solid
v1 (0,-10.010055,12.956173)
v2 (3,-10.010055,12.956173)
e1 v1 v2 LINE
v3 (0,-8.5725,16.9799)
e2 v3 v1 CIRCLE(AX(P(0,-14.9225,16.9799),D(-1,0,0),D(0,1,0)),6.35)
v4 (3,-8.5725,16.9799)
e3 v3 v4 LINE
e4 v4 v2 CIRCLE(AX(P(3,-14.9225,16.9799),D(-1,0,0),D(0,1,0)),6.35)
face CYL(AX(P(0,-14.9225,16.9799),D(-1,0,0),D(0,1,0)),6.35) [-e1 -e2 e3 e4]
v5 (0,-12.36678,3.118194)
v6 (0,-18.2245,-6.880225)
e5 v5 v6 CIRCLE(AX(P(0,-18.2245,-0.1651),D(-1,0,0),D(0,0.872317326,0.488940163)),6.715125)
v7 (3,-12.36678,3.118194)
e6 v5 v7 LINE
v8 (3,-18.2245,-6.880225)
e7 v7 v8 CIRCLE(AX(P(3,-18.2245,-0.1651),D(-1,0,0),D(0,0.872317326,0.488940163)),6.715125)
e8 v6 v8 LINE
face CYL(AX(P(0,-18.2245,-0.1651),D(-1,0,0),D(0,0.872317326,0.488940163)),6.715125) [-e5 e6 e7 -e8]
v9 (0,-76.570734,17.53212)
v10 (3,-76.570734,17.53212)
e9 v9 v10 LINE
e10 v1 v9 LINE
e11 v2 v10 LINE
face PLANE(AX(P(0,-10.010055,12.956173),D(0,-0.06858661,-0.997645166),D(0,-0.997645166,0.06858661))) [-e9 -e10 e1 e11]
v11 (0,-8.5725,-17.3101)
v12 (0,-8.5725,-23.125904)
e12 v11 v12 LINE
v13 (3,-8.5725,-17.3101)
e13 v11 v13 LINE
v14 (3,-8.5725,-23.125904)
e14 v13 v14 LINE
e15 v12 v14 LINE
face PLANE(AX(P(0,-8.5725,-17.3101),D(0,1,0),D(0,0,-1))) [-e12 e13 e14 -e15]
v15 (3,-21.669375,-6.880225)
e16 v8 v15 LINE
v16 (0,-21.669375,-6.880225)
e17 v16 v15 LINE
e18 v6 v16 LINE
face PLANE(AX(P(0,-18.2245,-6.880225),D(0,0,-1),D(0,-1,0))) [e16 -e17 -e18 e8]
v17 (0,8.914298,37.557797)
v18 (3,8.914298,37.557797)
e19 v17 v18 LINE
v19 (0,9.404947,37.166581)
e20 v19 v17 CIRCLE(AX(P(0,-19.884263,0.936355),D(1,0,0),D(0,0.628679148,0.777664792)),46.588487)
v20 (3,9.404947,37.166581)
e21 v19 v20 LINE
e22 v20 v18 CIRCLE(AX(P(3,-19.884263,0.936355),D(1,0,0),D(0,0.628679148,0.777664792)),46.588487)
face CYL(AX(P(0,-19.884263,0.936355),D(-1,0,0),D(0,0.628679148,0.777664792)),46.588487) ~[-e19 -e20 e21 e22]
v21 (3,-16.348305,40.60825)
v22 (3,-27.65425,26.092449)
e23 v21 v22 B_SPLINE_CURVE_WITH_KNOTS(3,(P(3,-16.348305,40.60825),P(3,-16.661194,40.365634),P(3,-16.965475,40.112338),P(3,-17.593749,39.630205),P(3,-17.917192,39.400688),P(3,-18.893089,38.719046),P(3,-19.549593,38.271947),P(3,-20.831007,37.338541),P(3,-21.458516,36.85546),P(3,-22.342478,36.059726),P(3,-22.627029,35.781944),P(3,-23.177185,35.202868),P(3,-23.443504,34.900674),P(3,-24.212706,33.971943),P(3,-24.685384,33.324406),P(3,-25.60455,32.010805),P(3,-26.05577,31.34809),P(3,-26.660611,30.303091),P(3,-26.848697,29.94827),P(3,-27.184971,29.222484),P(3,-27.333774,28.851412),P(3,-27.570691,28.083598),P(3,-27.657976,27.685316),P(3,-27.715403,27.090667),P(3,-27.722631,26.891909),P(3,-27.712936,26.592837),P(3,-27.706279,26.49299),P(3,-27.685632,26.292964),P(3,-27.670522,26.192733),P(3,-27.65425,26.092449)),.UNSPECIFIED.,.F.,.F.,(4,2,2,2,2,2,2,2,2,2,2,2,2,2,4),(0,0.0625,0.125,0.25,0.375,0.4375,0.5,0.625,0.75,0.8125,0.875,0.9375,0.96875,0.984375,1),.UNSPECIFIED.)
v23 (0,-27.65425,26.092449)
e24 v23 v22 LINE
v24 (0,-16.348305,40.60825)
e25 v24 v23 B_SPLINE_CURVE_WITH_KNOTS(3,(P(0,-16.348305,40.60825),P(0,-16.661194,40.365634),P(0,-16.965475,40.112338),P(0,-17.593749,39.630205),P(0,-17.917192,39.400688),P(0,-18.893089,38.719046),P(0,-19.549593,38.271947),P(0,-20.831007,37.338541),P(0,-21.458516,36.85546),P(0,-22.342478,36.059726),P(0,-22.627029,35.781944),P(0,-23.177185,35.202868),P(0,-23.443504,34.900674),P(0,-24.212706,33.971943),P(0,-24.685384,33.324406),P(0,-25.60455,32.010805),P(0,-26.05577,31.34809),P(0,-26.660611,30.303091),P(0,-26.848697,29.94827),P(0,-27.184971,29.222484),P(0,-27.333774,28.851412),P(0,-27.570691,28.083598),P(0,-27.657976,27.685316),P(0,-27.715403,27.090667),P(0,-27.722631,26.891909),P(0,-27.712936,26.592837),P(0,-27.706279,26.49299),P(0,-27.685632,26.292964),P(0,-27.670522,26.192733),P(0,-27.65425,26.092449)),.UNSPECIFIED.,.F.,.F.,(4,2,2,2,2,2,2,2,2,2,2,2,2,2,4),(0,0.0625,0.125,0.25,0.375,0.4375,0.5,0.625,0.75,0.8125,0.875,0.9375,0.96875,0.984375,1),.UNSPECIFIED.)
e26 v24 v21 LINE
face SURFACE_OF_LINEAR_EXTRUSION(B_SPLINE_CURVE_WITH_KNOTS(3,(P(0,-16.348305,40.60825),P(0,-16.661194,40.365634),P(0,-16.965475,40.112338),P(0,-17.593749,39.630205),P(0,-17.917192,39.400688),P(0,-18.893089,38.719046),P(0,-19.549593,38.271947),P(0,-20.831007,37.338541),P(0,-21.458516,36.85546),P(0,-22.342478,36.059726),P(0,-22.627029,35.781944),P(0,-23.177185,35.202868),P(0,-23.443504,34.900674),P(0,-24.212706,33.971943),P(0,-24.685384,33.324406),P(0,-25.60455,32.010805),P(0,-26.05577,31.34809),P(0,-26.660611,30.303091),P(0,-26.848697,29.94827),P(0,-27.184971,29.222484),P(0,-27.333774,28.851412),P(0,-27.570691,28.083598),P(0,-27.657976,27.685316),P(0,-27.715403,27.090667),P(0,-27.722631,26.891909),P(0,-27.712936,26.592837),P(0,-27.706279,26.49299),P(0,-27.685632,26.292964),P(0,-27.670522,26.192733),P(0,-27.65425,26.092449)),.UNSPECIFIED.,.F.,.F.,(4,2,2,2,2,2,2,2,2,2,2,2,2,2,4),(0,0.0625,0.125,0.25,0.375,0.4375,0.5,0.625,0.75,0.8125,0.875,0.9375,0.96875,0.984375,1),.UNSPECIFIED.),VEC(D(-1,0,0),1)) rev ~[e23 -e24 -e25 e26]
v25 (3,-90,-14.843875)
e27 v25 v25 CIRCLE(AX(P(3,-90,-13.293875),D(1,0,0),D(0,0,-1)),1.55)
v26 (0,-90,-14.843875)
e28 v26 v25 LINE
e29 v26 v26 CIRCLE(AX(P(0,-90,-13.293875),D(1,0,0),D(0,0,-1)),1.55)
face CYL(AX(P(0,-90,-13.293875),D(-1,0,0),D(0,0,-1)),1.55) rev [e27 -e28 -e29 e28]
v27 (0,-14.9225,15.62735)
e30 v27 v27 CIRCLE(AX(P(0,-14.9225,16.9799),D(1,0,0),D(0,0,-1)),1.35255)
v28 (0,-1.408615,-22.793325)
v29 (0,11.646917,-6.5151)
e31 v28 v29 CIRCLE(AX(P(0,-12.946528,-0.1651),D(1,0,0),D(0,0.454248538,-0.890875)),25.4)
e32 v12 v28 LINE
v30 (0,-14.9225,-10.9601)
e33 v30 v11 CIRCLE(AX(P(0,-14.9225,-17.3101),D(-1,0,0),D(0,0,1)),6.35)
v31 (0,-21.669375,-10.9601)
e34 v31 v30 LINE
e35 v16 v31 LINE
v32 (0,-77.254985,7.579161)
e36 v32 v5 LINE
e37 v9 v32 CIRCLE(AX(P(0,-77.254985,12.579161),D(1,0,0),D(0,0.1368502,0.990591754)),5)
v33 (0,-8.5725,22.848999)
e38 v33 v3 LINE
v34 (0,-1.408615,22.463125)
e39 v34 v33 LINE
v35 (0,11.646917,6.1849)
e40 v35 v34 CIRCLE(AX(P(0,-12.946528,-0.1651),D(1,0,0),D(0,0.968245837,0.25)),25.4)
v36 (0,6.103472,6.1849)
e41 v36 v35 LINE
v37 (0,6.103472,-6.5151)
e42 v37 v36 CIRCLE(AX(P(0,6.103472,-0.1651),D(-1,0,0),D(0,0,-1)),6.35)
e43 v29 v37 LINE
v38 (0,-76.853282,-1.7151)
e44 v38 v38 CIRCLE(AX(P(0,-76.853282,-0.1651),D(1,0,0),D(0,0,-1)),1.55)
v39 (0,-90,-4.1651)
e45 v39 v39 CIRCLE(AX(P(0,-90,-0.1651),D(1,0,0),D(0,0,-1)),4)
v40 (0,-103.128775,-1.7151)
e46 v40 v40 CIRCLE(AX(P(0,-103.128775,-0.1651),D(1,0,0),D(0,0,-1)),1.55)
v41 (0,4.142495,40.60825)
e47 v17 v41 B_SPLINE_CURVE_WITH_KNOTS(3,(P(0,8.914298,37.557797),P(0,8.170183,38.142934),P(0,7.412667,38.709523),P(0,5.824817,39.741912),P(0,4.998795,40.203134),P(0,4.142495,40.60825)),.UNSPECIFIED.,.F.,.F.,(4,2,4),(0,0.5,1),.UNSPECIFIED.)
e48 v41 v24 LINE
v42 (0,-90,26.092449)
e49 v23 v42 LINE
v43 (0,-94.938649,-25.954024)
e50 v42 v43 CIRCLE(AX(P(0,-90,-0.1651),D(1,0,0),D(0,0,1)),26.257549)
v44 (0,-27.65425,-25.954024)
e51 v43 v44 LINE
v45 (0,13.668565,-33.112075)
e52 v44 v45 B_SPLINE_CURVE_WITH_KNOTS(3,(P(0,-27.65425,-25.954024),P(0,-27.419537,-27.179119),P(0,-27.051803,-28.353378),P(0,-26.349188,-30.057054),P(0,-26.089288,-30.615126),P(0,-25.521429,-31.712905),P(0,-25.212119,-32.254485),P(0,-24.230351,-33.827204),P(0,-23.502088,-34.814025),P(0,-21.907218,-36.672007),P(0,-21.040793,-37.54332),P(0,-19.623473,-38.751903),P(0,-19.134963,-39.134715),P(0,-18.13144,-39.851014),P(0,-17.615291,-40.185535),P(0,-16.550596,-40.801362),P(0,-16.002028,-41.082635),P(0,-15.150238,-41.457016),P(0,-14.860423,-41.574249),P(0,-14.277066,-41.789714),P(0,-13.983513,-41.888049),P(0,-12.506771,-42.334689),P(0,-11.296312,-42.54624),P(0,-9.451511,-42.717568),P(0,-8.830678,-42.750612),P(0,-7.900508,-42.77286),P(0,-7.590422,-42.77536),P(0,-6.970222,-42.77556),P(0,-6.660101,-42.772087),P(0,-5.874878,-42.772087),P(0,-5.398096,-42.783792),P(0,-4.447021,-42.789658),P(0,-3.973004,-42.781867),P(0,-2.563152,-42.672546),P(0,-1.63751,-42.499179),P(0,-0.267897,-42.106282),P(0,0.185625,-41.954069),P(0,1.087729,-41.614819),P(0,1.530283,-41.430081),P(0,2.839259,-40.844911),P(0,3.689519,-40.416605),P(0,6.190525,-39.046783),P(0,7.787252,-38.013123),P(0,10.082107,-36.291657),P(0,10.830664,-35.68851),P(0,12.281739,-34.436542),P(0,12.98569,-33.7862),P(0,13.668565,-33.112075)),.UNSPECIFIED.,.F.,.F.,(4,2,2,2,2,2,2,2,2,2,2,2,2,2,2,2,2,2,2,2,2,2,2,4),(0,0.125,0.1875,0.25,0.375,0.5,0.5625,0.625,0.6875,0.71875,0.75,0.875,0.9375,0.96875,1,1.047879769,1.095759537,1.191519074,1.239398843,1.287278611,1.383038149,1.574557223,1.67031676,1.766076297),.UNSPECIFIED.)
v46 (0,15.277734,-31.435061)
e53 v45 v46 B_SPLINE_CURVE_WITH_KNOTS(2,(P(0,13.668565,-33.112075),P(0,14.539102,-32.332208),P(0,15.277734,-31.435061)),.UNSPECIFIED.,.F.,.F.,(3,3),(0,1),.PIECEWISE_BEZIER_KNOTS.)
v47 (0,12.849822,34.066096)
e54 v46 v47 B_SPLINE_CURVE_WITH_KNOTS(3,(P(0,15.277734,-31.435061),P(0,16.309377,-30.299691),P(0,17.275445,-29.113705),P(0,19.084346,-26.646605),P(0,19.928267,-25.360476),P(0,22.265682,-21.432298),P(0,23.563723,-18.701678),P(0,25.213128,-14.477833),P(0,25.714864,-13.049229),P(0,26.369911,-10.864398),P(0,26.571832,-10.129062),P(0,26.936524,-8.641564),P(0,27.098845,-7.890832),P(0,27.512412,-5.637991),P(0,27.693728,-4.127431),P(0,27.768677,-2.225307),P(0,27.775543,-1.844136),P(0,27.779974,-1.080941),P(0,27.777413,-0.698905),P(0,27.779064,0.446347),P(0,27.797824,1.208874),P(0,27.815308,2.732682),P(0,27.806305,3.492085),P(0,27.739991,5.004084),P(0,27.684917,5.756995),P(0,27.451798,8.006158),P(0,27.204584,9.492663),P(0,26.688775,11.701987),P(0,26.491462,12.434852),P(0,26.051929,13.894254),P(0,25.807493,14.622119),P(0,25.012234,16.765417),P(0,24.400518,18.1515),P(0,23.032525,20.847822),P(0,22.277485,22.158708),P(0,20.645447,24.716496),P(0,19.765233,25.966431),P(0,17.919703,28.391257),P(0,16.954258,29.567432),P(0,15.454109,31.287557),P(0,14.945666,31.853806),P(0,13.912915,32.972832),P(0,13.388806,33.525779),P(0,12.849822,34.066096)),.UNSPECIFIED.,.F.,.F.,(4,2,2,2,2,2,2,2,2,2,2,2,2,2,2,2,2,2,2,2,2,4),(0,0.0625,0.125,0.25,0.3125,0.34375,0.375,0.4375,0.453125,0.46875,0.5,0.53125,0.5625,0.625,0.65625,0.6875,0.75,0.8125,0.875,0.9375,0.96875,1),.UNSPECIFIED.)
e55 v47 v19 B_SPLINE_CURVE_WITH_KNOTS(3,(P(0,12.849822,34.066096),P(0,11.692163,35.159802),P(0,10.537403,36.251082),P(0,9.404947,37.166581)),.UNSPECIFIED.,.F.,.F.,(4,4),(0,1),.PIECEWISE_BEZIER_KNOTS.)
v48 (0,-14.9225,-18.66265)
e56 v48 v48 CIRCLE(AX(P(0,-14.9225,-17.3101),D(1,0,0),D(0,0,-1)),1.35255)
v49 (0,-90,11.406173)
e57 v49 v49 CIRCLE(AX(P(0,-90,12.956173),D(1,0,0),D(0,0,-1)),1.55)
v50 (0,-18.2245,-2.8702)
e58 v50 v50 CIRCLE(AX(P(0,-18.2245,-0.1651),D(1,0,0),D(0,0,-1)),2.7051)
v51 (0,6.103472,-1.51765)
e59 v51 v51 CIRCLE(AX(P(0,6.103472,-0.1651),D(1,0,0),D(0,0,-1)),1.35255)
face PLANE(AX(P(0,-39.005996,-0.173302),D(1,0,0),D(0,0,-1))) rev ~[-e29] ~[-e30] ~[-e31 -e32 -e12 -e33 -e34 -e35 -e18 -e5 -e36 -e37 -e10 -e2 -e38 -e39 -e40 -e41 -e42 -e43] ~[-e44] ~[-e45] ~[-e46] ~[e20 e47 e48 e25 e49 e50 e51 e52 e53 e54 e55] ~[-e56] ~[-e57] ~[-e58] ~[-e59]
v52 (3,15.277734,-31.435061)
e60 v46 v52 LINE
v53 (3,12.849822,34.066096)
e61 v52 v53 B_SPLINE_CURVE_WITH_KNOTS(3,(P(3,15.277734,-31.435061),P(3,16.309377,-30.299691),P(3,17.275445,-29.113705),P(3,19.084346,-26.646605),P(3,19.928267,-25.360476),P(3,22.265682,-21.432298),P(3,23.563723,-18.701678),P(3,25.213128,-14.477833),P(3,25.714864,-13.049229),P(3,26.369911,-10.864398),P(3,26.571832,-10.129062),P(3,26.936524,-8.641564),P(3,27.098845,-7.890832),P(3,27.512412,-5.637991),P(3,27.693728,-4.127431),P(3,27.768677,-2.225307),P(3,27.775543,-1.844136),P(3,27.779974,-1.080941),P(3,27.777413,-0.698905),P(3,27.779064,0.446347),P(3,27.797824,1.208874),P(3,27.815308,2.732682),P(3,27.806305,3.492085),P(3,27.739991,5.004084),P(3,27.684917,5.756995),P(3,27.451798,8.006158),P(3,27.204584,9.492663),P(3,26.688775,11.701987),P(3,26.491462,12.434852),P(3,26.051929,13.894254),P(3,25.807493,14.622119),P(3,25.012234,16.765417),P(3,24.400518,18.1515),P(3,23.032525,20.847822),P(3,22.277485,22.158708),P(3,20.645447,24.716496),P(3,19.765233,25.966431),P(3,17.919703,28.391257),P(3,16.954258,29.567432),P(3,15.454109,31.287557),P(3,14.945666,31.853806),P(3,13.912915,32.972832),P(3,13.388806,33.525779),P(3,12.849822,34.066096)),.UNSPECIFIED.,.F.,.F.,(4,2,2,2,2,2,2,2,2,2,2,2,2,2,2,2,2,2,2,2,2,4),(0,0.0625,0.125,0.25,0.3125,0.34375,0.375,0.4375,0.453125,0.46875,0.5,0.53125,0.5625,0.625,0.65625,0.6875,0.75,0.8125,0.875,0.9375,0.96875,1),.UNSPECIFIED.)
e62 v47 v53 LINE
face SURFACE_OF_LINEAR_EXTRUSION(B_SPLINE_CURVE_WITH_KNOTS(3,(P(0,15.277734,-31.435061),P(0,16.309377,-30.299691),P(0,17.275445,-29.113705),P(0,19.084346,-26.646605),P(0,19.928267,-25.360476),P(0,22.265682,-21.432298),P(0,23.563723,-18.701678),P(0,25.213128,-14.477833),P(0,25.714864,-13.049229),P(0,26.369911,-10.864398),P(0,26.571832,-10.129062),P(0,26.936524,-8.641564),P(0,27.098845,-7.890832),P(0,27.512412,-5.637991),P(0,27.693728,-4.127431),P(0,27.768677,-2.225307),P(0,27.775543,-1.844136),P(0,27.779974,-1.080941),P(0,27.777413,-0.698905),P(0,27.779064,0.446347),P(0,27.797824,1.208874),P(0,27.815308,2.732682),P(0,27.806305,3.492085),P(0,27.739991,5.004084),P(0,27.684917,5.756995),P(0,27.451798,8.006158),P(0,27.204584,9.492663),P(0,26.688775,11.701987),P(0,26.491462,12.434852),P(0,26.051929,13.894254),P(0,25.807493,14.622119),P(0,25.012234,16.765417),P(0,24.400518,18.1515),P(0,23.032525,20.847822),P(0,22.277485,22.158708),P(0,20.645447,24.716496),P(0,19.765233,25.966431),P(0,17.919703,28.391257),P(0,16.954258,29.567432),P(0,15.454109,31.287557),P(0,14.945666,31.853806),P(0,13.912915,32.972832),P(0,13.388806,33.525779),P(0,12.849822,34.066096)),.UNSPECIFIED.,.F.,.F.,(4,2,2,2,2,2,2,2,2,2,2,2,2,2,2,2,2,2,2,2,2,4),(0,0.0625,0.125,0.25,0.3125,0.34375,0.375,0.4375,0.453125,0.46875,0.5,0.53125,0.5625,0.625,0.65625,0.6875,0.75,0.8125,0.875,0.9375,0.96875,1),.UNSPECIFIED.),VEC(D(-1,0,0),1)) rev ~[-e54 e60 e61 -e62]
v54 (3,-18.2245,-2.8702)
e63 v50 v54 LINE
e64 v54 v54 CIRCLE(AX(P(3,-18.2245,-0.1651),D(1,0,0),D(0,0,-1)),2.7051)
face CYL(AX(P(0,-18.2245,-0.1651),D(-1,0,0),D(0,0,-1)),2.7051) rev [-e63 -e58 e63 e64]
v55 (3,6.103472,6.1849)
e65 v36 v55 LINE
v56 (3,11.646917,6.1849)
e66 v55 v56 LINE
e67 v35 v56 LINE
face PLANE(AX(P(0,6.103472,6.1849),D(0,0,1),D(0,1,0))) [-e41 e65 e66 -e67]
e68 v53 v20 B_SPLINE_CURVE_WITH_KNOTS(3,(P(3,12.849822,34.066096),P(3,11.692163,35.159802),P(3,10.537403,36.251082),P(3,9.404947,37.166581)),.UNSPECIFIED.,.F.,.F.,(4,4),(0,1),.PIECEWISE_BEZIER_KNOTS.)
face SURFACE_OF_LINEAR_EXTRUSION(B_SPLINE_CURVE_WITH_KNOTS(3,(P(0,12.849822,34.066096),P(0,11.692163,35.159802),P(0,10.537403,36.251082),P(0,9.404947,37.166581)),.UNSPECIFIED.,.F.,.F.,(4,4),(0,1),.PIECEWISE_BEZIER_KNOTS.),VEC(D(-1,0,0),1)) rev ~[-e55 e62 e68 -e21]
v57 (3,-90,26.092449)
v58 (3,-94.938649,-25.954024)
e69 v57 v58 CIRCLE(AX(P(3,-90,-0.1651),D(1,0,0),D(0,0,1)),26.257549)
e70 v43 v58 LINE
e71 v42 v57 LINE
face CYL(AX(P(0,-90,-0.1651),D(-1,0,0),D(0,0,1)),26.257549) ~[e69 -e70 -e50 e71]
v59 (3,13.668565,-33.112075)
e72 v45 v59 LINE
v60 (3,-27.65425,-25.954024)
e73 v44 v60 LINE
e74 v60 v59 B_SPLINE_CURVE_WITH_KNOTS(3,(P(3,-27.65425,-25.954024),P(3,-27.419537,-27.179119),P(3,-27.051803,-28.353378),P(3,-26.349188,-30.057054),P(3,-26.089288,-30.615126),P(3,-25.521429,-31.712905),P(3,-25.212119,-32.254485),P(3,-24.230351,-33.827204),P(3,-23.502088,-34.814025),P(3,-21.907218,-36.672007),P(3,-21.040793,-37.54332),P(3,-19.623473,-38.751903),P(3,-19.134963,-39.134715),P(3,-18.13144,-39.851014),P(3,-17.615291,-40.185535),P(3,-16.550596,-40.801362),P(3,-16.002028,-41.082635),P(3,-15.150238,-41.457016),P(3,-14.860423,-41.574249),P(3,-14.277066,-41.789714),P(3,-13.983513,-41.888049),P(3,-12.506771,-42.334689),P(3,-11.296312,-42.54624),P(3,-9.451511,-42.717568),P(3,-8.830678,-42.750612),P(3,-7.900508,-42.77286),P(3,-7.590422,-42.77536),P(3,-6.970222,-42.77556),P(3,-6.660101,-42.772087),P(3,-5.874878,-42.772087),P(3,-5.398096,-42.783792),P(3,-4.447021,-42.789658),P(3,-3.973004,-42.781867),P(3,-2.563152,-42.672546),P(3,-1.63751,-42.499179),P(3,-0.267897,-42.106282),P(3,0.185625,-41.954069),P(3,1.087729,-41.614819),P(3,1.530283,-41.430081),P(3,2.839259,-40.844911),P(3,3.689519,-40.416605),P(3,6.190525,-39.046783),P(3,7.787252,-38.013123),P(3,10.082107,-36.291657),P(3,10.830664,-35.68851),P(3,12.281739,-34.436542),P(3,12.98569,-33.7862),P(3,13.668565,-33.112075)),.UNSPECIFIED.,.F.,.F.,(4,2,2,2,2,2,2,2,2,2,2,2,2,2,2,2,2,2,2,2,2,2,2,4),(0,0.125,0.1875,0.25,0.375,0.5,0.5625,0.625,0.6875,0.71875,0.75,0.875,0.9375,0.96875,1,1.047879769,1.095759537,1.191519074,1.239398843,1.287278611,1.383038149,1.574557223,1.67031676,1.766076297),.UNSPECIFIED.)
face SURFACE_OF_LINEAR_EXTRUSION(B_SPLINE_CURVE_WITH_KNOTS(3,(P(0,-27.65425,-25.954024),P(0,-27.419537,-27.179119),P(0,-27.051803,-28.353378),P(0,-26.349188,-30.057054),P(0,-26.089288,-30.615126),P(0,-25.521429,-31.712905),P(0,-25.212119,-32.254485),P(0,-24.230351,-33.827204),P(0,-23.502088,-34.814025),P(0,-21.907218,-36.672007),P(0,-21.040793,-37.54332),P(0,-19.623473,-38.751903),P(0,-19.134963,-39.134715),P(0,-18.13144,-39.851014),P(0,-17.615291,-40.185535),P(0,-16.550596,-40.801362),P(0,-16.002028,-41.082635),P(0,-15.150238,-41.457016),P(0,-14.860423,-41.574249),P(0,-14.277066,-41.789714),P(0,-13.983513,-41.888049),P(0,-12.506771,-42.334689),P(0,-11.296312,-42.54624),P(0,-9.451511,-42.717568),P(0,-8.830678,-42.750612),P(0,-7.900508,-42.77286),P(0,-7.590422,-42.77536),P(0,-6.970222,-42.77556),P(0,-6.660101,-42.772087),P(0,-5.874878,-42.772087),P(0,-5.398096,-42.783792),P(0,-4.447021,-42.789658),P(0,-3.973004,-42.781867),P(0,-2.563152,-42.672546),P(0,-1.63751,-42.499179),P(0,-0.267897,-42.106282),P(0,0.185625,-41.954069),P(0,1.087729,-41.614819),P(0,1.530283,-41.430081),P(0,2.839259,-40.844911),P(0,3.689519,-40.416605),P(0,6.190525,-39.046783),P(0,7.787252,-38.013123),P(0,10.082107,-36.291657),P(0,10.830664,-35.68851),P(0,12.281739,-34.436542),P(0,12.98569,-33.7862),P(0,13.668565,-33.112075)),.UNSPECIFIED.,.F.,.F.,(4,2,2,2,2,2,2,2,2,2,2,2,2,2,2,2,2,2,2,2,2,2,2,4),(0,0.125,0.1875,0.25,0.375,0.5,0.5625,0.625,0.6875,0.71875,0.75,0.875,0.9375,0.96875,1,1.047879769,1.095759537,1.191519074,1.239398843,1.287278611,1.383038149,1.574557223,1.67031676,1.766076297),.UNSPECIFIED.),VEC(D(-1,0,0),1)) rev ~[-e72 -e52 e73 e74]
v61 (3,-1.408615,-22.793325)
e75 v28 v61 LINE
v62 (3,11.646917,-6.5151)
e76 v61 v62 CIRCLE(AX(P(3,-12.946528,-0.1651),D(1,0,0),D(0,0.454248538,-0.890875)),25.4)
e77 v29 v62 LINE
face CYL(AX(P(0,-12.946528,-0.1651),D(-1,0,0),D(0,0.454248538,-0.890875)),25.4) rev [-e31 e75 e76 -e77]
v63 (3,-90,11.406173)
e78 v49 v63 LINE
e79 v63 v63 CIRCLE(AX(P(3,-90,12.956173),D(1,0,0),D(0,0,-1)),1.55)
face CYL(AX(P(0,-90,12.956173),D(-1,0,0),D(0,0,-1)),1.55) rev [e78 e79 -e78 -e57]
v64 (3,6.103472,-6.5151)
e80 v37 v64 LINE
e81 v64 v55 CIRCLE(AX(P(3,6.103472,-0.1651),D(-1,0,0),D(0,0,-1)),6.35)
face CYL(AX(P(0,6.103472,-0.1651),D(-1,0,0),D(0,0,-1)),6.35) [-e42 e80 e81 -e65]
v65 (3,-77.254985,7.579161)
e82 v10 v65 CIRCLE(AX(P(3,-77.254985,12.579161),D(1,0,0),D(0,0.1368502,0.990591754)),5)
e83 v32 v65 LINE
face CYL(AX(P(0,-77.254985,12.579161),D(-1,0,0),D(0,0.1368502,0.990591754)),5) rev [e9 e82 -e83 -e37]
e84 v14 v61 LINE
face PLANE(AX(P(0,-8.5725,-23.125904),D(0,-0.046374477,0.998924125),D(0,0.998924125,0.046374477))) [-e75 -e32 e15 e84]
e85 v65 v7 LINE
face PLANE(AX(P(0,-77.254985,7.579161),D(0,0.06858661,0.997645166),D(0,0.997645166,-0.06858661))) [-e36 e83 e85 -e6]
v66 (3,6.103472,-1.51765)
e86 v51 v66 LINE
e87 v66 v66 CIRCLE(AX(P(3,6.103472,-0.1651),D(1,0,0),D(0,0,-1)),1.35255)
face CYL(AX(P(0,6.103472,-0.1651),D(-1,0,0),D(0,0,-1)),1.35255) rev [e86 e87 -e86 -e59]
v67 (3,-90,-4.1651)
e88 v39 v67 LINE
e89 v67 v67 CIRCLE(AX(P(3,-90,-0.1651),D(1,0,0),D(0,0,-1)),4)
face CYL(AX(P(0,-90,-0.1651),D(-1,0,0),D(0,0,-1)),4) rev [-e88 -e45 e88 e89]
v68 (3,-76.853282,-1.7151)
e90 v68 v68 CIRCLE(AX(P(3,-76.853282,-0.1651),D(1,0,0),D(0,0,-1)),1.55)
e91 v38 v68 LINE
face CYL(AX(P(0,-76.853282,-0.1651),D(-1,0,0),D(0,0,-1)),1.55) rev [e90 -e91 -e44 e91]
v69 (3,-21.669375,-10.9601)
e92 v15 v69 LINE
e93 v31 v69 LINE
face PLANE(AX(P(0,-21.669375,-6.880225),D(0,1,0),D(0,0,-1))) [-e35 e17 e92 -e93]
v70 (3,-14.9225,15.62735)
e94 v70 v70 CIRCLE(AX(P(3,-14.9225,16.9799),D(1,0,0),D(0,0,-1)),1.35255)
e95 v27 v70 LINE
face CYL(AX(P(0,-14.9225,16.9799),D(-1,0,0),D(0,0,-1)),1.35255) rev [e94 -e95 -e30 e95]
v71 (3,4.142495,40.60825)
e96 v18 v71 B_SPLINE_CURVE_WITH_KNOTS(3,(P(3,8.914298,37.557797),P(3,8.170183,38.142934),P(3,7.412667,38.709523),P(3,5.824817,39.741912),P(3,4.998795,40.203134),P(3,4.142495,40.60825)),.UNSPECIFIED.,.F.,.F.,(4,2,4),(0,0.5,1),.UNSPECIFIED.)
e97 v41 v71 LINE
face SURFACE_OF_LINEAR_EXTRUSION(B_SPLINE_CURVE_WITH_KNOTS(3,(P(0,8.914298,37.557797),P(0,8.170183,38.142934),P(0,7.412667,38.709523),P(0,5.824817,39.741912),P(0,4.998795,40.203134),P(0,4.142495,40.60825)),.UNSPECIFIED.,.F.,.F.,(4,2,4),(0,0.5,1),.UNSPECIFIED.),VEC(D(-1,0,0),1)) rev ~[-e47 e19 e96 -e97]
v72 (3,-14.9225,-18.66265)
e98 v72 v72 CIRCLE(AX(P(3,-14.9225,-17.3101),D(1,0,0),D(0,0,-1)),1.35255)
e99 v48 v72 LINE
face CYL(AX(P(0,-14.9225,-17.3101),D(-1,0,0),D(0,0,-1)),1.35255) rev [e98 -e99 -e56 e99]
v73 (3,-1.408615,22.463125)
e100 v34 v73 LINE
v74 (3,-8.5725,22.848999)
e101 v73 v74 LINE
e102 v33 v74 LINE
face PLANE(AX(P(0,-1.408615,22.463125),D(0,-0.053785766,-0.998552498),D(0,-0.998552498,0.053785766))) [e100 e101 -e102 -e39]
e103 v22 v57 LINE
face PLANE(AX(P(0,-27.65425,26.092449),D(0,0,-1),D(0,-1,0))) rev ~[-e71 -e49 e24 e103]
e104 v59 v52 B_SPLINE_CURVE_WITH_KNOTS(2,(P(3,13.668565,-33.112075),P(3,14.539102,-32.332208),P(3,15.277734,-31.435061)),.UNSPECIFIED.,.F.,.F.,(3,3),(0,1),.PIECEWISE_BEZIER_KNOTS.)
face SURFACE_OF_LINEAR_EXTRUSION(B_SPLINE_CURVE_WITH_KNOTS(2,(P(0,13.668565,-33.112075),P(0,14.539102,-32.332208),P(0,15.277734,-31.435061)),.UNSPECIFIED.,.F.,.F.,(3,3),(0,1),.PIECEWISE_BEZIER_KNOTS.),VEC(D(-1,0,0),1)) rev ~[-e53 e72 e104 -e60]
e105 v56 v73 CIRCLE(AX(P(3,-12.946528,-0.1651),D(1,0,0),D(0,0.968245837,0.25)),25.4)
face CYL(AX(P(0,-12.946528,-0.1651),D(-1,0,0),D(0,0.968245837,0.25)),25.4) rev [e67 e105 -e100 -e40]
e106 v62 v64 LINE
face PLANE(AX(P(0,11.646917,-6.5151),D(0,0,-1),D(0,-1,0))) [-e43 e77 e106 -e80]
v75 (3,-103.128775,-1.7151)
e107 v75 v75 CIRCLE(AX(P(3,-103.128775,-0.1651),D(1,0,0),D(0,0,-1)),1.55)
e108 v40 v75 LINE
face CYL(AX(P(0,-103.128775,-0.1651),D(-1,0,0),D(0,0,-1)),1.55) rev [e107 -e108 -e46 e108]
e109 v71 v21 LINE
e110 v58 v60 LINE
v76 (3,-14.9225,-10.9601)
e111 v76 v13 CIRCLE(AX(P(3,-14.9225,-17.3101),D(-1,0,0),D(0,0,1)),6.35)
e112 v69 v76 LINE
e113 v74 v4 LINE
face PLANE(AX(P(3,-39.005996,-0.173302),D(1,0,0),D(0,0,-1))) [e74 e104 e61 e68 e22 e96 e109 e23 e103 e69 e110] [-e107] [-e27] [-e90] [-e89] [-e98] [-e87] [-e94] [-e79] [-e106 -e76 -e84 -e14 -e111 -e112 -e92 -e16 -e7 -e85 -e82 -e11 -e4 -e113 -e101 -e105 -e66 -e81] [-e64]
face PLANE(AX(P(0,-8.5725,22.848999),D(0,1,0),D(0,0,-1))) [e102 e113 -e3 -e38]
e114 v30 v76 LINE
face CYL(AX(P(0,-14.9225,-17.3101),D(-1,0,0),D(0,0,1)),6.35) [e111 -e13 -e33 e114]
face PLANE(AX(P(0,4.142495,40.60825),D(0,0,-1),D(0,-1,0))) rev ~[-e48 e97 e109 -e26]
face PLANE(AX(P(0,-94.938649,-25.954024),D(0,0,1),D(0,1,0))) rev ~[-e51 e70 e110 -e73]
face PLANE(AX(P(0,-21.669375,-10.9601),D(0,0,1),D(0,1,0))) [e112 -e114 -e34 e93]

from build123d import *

# Parameters (mm, degrees)
ESQUISSE3_R        = 1.35255
ESQUISSE3_R_2      = 2.7051
ESQUISSE3_R_3      = 1.55
ESQUISSE3_R_4      = 4
BOSS_EXTRU_2_DEPTH = 3


with BuildPart() as part:
    # Esquisse3 → Boss.-Extru.2 (new body)
    with BuildSketch(Plane(origin=(0, 0, 0), x_dir=(0, 0, -1), z_dir=(1, 0, 0))):
        with BuildLine():
            Line((-40.60825, -16.144875), (-40.60825, -16.348305132))
            add(Edge.make_bspline(
                [(-40.60825, -16.348305132), (-40.365634485, -16.661193605), (-40.112338127, -16.96547542), (-39.63020507, -17.593748723), (-39.400688032, -17.917191992), (-38.719045939, -18.893089111), (-38.271947044, -19.549593057), (-37.338540998, -20.831006808), (-36.855460104, -21.458516341), (-36.059725811, -22.342477591), (-35.781944124, -22.627029047), (-35.202868212, -23.17718548), (-34.900674383, -23.443503751), (-33.971943166, -24.212706181), (-33.324405882, -24.685383849), (-32.010805282, -25.604549776), (-31.348089528, -26.055770333), (-30.303090708, -26.660610546), (-29.948270215, -26.848696892), (-29.222483721, -27.184971005), (-28.851412004, -27.333773538), (-28.083597976, -27.570691368), (-27.685315555, -27.657976057), (-27.090666934, -27.715403346), (-26.891908645, -27.722631025), (-26.592836888, -27.712936491), (-26.492990431, -27.706278992), (-26.292963936, -27.685632014), (-26.192732932, -27.670522326), (-26.092449031, -27.65425)],
                knots=[0, 0, 0, 0, 0.0625, 0.0625, 0.125, 0.125, 0.25, 0.25, 0.375, 0.375, 0.4375, 0.4375, 0.5, 0.5, 0.625, 0.625, 0.75, 0.75, 0.8125, 0.8125, 0.875, 0.875, 0.9375, 0.9375, 0.96875, 0.96875, 0.984375, 0.984375, 1, 1, 1, 1], degree=3))
            Line((-26.092449031, -27.65425), (-26.092449031, -90))
            ThreePointArc((-26.092449031, -90), (-2.31531669, -116.14013034), (25.954024412, -94.93864949))
            Line((25.954024412, -94.93864949), (25.954024412, -27.65425))
            add(Edge.make_bspline(
                [(25.954024412, -27.65425), (27.179118802, -27.419536533), (28.353377808, -27.051803075), (30.05705383, -26.34918771), (30.615126485, -26.089288473), (31.712904721, -25.521429223), (32.254485024, -25.212118815), (33.827204106, -24.230350536), (34.814025463, -23.502087852), (36.672007358, -21.907218093), (37.543320305, -21.040793316), (38.751902771, -19.623473398), (39.134714509, -19.134962989), (39.851014333, -18.131439591), (40.185535135, -17.615291382), (40.801362362, -16.550595558), (41.082635497, -16.002027673), (41.457015911, -15.150237789), (41.574249194, -14.86042264), (41.789713906, -14.277065554), (41.888049248, -13.98351322), (42.334688534, -12.506770959), (42.546239761, -11.296312151), (42.717568356, -9.451511475), (42.750611649, -8.83067761), (42.772859866, -7.900507946), (42.775360474, -7.590422151), (42.77555993, -6.970221998), (42.772087252, -6.66010067), (42.772087252, -6.35)],
                knots=[0, 0, 0, 0, 0.125, 0.125, 0.1875, 0.1875, 0.25, 0.25, 0.375, 0.375, 0.5, 0.5, 0.5625, 0.5625, 0.625, 0.625, 0.6875, 0.6875, 0.71875, 0.71875, 0.75, 0.75, 0.875, 0.875, 0.9375, 0.9375, 0.96875, 0.96875, 1, 1, 1, 1], degree=3))
            add(Edge.make_bspline(
                [(42.772087252, -6.35), (42.772087252, -5.874878454), (42.783792207, -5.398095979), (42.789657917, -4.447020546), (42.781867467, -3.973004463), (42.672546396, -2.563152451), (42.499179213, -1.637510108), (42.106282017, -0.267897459), (41.954068536, 0.185625042), (41.614819435, 1.087728793), (41.430081297, 1.530283034), (40.844911495, 2.839259084), (40.416604561, 3.689518781), (39.046783283, 6.190525131), (38.013123304, 7.787251584), (36.291657446, 10.082106977), (35.688509547, 10.830664164), (34.43654182, 12.281738953), (33.786199883, 12.985690235), (33.112075, 13.668565083)],
                knots=[0, 0, 0, 0, 0.0625, 0.0625, 0.125, 0.125, 0.25, 0.25, 0.3125, 0.3125, 0.375, 0.375, 0.5, 0.5, 0.75, 0.75, 0.875, 0.875, 1, 1, 1, 1], degree=3))
            add(Edge.make_bspline(
                [(33.112075, 13.668565083), (32.332207955, 14.539101946), (31.435060987, 15.277734234)],
                knots=[0, 0, 0, 1, 1, 1], degree=2))
            add(Edge.make_bspline(
                [(31.435060987, 15.277734234), (30.299691041, 16.309376592), (29.113704516, 17.275445235), (26.646604831, 19.084346085), (25.360475951, 19.928267183), (21.432297769, 22.265681686), (18.70167828, 23.563722979), (14.477833082, 25.213127628), (13.049229105, 25.71486416), (10.864398428, 26.369911185), (10.129061703, 26.571832136), (8.64156399, 26.936524394), (7.890831572, 27.098844789), (5.637990782, 27.512412208), (4.127431428, 27.693727696), (2.225306731, 27.768676851), (1.844136038, 27.775542931), (1.080940786, 27.779973661), (0.698904769, 27.777413484), (-0.446346689, 27.779064109), (-1.208874123, 27.797823926), (-2.732682239, 27.815308111), (-3.492085471, 27.806304753), (-5.004084105, 27.739990771), (-5.756994671, 27.684916502), (-8.006157922, 27.451797552), (-9.492662784, 27.204583891), (-11.701987236, 26.688775277), (-12.434852331, 26.491461598), (-13.894254142, 26.051929085), (-14.622118919, 25.807493497), (-16.765417144, 25.01223388), (-18.151500369, 24.400517874), (-20.847821735, 23.032525232), (-22.158708475, 22.277484827), (-24.716496252, 20.645447351), (-25.966430559, 19.7652326), (-28.39125747, 17.919703458), (-29.567431908, 16.954258357), (-31.287557173, 15.454109034), (-31.85380584, 14.945666112), (-32.972832423, 13.91291508), (-33.52577931, 13.388805977), (-34.066096443, 12.849822171)],
                knots=[0, 0, 0, 0, 0.0625, 0.0625, 0.125, 0.125, 0.25, 0.25, 0.3125, 0.3125, 0.34375, 0.34375, 0.375, 0.375, 0.4375, 0.4375, 0.453125, 0.453125, 0.46875, 0.46875, 0.5, 0.5, 0.53125, 0.53125, 0.5625, 0.5625, 0.625, 0.625, 0.65625, 0.65625, 0.6875, 0.6875, 0.75, 0.75, 0.8125, 0.8125, 0.875, 0.875, 0.9375, 0.9375, 0.96875, 0.96875, 1, 1, 1, 1], degree=3))
            add(Edge.make_bspline(
                [(-34.066096443, 12.849822171), (-35.159801618, 11.692162737), (-36.251081621, 10.53740284), (-37.166580532, 9.404947171)],
                knots=[0, 0, 0, 0, 1, 1, 1, 1], degree=3))
            ThreePointArc((-37.166580532, 9.404947171), (-37.363014685, 9.160281042), (-37.557796616, 8.914297524))
            add(Edge.make_bspline(
                [(-37.557796616, 8.914297524), (-38.142933539, 8.170182683), (-38.709522845, 7.412667282), (-39.741912272, 5.824816801), (-40.203133529, 4.998794666), (-40.60825, 4.142494902)],
                knots=[0, 0, 0, 0, 0.5, 0.5, 1, 1, 1, 1], degree=3))
            Line((-40.60825, 4.142494902), (-40.60825, -12.7))
            Line((-40.60825, -12.7), (-40.60825, -16.144875))
        make_face()
        with Locations((-16.9799, -14.9225)):
            Circle(ESQUISSE3_R, mode=Mode.SUBTRACT)
        with Locations((0.1651, -18.2245)):
            Circle(ESQUISSE3_R_2, mode=Mode.SUBTRACT)
        with Locations((17.3101, -14.9225)):
            Circle(ESQUISSE3_R, mode=Mode.SUBTRACT)
        with Locations((0.1651, 6.103472306)):
            Circle(ESQUISSE3_R, mode=Mode.SUBTRACT)
        with Locations((0.1651, -103.128774516)):
            Circle(ESQUISSE3_R_3, mode=Mode.SUBTRACT)
        with Locations((-12.956172959, -90)):
            Circle(ESQUISSE3_R_3, mode=Mode.SUBTRACT)
        with Locations((0.1651, -76.853281608)):
            Circle(ESQUISSE3_R_3, mode=Mode.SUBTRACT)
        with Locations((13.293874516, -90)):
            Circle(ESQUISSE3_R_3, mode=Mode.SUBTRACT)
        with Locations((0.1651, -90)):
            Circle(ESQUISSE3_R_4, mode=Mode.SUBTRACT)
        with BuildLine():
            Line((-6.1849, 6.103472306), (-6.1849, 11.646916554))
            ThreePointArc((-6.1849, 11.646916554), (-15.726599278, 6.86795928), (-22.463125, -1.408614826))
            Line((-22.463125, -1.408614826), (-22.848998606, -8.5725))
            Line((-22.848998606, -8.5725), (-16.9799, -8.5725))
            ThreePointArc((-16.9799, -8.5725), (-14.843492837, -8.942678562), (-12.956172959, -10.010054509))
            Line((-12.956172959, -10.010054509), (-17.532119892, -76.570733548))
            ThreePointArc((-17.532119892, -76.570733548), (-12.922094173, -82.243210377), (-7.579161123, -77.254984547))
            Line((-7.579161123, -77.254984547), (-3.118194312, -12.366780117))
            ThreePointArc((-3.118194312, -12.366780117), (3.559593485, -12.430510205), (6.880225, -18.2245))
            Line((6.880225, -18.2245), (6.880225, -21.669375))
            Line((6.880225, -21.669375), (10.9601, -21.669375))
            Line((10.9601, -21.669375), (10.9601, -14.9225))
            ThreePointArc((10.9601, -14.9225), (12.819971939, -10.432371939), (17.3101, -8.5725))
            Line((17.3101, -8.5725), (23.12590424, -8.5725))
            Line((23.12590424, -8.5725), (22.793325, -1.408614826))
            ThreePointArc((22.793325, -1.408614826), (16.056799278, 6.86795928), (6.5151, 11.646916554))
            Line((6.5151, 11.646916554), (6.5151, 6.103472306))
            ThreePointArc((6.5151, 6.103472306), (0.1651, -0.246527694), (-6.1849, 6.103472306))
        make_face(mode=Mode.SUBTRACT)
    extrude(amount=BOSS_EXTRU_2_DEPTH)


solid = part.part
